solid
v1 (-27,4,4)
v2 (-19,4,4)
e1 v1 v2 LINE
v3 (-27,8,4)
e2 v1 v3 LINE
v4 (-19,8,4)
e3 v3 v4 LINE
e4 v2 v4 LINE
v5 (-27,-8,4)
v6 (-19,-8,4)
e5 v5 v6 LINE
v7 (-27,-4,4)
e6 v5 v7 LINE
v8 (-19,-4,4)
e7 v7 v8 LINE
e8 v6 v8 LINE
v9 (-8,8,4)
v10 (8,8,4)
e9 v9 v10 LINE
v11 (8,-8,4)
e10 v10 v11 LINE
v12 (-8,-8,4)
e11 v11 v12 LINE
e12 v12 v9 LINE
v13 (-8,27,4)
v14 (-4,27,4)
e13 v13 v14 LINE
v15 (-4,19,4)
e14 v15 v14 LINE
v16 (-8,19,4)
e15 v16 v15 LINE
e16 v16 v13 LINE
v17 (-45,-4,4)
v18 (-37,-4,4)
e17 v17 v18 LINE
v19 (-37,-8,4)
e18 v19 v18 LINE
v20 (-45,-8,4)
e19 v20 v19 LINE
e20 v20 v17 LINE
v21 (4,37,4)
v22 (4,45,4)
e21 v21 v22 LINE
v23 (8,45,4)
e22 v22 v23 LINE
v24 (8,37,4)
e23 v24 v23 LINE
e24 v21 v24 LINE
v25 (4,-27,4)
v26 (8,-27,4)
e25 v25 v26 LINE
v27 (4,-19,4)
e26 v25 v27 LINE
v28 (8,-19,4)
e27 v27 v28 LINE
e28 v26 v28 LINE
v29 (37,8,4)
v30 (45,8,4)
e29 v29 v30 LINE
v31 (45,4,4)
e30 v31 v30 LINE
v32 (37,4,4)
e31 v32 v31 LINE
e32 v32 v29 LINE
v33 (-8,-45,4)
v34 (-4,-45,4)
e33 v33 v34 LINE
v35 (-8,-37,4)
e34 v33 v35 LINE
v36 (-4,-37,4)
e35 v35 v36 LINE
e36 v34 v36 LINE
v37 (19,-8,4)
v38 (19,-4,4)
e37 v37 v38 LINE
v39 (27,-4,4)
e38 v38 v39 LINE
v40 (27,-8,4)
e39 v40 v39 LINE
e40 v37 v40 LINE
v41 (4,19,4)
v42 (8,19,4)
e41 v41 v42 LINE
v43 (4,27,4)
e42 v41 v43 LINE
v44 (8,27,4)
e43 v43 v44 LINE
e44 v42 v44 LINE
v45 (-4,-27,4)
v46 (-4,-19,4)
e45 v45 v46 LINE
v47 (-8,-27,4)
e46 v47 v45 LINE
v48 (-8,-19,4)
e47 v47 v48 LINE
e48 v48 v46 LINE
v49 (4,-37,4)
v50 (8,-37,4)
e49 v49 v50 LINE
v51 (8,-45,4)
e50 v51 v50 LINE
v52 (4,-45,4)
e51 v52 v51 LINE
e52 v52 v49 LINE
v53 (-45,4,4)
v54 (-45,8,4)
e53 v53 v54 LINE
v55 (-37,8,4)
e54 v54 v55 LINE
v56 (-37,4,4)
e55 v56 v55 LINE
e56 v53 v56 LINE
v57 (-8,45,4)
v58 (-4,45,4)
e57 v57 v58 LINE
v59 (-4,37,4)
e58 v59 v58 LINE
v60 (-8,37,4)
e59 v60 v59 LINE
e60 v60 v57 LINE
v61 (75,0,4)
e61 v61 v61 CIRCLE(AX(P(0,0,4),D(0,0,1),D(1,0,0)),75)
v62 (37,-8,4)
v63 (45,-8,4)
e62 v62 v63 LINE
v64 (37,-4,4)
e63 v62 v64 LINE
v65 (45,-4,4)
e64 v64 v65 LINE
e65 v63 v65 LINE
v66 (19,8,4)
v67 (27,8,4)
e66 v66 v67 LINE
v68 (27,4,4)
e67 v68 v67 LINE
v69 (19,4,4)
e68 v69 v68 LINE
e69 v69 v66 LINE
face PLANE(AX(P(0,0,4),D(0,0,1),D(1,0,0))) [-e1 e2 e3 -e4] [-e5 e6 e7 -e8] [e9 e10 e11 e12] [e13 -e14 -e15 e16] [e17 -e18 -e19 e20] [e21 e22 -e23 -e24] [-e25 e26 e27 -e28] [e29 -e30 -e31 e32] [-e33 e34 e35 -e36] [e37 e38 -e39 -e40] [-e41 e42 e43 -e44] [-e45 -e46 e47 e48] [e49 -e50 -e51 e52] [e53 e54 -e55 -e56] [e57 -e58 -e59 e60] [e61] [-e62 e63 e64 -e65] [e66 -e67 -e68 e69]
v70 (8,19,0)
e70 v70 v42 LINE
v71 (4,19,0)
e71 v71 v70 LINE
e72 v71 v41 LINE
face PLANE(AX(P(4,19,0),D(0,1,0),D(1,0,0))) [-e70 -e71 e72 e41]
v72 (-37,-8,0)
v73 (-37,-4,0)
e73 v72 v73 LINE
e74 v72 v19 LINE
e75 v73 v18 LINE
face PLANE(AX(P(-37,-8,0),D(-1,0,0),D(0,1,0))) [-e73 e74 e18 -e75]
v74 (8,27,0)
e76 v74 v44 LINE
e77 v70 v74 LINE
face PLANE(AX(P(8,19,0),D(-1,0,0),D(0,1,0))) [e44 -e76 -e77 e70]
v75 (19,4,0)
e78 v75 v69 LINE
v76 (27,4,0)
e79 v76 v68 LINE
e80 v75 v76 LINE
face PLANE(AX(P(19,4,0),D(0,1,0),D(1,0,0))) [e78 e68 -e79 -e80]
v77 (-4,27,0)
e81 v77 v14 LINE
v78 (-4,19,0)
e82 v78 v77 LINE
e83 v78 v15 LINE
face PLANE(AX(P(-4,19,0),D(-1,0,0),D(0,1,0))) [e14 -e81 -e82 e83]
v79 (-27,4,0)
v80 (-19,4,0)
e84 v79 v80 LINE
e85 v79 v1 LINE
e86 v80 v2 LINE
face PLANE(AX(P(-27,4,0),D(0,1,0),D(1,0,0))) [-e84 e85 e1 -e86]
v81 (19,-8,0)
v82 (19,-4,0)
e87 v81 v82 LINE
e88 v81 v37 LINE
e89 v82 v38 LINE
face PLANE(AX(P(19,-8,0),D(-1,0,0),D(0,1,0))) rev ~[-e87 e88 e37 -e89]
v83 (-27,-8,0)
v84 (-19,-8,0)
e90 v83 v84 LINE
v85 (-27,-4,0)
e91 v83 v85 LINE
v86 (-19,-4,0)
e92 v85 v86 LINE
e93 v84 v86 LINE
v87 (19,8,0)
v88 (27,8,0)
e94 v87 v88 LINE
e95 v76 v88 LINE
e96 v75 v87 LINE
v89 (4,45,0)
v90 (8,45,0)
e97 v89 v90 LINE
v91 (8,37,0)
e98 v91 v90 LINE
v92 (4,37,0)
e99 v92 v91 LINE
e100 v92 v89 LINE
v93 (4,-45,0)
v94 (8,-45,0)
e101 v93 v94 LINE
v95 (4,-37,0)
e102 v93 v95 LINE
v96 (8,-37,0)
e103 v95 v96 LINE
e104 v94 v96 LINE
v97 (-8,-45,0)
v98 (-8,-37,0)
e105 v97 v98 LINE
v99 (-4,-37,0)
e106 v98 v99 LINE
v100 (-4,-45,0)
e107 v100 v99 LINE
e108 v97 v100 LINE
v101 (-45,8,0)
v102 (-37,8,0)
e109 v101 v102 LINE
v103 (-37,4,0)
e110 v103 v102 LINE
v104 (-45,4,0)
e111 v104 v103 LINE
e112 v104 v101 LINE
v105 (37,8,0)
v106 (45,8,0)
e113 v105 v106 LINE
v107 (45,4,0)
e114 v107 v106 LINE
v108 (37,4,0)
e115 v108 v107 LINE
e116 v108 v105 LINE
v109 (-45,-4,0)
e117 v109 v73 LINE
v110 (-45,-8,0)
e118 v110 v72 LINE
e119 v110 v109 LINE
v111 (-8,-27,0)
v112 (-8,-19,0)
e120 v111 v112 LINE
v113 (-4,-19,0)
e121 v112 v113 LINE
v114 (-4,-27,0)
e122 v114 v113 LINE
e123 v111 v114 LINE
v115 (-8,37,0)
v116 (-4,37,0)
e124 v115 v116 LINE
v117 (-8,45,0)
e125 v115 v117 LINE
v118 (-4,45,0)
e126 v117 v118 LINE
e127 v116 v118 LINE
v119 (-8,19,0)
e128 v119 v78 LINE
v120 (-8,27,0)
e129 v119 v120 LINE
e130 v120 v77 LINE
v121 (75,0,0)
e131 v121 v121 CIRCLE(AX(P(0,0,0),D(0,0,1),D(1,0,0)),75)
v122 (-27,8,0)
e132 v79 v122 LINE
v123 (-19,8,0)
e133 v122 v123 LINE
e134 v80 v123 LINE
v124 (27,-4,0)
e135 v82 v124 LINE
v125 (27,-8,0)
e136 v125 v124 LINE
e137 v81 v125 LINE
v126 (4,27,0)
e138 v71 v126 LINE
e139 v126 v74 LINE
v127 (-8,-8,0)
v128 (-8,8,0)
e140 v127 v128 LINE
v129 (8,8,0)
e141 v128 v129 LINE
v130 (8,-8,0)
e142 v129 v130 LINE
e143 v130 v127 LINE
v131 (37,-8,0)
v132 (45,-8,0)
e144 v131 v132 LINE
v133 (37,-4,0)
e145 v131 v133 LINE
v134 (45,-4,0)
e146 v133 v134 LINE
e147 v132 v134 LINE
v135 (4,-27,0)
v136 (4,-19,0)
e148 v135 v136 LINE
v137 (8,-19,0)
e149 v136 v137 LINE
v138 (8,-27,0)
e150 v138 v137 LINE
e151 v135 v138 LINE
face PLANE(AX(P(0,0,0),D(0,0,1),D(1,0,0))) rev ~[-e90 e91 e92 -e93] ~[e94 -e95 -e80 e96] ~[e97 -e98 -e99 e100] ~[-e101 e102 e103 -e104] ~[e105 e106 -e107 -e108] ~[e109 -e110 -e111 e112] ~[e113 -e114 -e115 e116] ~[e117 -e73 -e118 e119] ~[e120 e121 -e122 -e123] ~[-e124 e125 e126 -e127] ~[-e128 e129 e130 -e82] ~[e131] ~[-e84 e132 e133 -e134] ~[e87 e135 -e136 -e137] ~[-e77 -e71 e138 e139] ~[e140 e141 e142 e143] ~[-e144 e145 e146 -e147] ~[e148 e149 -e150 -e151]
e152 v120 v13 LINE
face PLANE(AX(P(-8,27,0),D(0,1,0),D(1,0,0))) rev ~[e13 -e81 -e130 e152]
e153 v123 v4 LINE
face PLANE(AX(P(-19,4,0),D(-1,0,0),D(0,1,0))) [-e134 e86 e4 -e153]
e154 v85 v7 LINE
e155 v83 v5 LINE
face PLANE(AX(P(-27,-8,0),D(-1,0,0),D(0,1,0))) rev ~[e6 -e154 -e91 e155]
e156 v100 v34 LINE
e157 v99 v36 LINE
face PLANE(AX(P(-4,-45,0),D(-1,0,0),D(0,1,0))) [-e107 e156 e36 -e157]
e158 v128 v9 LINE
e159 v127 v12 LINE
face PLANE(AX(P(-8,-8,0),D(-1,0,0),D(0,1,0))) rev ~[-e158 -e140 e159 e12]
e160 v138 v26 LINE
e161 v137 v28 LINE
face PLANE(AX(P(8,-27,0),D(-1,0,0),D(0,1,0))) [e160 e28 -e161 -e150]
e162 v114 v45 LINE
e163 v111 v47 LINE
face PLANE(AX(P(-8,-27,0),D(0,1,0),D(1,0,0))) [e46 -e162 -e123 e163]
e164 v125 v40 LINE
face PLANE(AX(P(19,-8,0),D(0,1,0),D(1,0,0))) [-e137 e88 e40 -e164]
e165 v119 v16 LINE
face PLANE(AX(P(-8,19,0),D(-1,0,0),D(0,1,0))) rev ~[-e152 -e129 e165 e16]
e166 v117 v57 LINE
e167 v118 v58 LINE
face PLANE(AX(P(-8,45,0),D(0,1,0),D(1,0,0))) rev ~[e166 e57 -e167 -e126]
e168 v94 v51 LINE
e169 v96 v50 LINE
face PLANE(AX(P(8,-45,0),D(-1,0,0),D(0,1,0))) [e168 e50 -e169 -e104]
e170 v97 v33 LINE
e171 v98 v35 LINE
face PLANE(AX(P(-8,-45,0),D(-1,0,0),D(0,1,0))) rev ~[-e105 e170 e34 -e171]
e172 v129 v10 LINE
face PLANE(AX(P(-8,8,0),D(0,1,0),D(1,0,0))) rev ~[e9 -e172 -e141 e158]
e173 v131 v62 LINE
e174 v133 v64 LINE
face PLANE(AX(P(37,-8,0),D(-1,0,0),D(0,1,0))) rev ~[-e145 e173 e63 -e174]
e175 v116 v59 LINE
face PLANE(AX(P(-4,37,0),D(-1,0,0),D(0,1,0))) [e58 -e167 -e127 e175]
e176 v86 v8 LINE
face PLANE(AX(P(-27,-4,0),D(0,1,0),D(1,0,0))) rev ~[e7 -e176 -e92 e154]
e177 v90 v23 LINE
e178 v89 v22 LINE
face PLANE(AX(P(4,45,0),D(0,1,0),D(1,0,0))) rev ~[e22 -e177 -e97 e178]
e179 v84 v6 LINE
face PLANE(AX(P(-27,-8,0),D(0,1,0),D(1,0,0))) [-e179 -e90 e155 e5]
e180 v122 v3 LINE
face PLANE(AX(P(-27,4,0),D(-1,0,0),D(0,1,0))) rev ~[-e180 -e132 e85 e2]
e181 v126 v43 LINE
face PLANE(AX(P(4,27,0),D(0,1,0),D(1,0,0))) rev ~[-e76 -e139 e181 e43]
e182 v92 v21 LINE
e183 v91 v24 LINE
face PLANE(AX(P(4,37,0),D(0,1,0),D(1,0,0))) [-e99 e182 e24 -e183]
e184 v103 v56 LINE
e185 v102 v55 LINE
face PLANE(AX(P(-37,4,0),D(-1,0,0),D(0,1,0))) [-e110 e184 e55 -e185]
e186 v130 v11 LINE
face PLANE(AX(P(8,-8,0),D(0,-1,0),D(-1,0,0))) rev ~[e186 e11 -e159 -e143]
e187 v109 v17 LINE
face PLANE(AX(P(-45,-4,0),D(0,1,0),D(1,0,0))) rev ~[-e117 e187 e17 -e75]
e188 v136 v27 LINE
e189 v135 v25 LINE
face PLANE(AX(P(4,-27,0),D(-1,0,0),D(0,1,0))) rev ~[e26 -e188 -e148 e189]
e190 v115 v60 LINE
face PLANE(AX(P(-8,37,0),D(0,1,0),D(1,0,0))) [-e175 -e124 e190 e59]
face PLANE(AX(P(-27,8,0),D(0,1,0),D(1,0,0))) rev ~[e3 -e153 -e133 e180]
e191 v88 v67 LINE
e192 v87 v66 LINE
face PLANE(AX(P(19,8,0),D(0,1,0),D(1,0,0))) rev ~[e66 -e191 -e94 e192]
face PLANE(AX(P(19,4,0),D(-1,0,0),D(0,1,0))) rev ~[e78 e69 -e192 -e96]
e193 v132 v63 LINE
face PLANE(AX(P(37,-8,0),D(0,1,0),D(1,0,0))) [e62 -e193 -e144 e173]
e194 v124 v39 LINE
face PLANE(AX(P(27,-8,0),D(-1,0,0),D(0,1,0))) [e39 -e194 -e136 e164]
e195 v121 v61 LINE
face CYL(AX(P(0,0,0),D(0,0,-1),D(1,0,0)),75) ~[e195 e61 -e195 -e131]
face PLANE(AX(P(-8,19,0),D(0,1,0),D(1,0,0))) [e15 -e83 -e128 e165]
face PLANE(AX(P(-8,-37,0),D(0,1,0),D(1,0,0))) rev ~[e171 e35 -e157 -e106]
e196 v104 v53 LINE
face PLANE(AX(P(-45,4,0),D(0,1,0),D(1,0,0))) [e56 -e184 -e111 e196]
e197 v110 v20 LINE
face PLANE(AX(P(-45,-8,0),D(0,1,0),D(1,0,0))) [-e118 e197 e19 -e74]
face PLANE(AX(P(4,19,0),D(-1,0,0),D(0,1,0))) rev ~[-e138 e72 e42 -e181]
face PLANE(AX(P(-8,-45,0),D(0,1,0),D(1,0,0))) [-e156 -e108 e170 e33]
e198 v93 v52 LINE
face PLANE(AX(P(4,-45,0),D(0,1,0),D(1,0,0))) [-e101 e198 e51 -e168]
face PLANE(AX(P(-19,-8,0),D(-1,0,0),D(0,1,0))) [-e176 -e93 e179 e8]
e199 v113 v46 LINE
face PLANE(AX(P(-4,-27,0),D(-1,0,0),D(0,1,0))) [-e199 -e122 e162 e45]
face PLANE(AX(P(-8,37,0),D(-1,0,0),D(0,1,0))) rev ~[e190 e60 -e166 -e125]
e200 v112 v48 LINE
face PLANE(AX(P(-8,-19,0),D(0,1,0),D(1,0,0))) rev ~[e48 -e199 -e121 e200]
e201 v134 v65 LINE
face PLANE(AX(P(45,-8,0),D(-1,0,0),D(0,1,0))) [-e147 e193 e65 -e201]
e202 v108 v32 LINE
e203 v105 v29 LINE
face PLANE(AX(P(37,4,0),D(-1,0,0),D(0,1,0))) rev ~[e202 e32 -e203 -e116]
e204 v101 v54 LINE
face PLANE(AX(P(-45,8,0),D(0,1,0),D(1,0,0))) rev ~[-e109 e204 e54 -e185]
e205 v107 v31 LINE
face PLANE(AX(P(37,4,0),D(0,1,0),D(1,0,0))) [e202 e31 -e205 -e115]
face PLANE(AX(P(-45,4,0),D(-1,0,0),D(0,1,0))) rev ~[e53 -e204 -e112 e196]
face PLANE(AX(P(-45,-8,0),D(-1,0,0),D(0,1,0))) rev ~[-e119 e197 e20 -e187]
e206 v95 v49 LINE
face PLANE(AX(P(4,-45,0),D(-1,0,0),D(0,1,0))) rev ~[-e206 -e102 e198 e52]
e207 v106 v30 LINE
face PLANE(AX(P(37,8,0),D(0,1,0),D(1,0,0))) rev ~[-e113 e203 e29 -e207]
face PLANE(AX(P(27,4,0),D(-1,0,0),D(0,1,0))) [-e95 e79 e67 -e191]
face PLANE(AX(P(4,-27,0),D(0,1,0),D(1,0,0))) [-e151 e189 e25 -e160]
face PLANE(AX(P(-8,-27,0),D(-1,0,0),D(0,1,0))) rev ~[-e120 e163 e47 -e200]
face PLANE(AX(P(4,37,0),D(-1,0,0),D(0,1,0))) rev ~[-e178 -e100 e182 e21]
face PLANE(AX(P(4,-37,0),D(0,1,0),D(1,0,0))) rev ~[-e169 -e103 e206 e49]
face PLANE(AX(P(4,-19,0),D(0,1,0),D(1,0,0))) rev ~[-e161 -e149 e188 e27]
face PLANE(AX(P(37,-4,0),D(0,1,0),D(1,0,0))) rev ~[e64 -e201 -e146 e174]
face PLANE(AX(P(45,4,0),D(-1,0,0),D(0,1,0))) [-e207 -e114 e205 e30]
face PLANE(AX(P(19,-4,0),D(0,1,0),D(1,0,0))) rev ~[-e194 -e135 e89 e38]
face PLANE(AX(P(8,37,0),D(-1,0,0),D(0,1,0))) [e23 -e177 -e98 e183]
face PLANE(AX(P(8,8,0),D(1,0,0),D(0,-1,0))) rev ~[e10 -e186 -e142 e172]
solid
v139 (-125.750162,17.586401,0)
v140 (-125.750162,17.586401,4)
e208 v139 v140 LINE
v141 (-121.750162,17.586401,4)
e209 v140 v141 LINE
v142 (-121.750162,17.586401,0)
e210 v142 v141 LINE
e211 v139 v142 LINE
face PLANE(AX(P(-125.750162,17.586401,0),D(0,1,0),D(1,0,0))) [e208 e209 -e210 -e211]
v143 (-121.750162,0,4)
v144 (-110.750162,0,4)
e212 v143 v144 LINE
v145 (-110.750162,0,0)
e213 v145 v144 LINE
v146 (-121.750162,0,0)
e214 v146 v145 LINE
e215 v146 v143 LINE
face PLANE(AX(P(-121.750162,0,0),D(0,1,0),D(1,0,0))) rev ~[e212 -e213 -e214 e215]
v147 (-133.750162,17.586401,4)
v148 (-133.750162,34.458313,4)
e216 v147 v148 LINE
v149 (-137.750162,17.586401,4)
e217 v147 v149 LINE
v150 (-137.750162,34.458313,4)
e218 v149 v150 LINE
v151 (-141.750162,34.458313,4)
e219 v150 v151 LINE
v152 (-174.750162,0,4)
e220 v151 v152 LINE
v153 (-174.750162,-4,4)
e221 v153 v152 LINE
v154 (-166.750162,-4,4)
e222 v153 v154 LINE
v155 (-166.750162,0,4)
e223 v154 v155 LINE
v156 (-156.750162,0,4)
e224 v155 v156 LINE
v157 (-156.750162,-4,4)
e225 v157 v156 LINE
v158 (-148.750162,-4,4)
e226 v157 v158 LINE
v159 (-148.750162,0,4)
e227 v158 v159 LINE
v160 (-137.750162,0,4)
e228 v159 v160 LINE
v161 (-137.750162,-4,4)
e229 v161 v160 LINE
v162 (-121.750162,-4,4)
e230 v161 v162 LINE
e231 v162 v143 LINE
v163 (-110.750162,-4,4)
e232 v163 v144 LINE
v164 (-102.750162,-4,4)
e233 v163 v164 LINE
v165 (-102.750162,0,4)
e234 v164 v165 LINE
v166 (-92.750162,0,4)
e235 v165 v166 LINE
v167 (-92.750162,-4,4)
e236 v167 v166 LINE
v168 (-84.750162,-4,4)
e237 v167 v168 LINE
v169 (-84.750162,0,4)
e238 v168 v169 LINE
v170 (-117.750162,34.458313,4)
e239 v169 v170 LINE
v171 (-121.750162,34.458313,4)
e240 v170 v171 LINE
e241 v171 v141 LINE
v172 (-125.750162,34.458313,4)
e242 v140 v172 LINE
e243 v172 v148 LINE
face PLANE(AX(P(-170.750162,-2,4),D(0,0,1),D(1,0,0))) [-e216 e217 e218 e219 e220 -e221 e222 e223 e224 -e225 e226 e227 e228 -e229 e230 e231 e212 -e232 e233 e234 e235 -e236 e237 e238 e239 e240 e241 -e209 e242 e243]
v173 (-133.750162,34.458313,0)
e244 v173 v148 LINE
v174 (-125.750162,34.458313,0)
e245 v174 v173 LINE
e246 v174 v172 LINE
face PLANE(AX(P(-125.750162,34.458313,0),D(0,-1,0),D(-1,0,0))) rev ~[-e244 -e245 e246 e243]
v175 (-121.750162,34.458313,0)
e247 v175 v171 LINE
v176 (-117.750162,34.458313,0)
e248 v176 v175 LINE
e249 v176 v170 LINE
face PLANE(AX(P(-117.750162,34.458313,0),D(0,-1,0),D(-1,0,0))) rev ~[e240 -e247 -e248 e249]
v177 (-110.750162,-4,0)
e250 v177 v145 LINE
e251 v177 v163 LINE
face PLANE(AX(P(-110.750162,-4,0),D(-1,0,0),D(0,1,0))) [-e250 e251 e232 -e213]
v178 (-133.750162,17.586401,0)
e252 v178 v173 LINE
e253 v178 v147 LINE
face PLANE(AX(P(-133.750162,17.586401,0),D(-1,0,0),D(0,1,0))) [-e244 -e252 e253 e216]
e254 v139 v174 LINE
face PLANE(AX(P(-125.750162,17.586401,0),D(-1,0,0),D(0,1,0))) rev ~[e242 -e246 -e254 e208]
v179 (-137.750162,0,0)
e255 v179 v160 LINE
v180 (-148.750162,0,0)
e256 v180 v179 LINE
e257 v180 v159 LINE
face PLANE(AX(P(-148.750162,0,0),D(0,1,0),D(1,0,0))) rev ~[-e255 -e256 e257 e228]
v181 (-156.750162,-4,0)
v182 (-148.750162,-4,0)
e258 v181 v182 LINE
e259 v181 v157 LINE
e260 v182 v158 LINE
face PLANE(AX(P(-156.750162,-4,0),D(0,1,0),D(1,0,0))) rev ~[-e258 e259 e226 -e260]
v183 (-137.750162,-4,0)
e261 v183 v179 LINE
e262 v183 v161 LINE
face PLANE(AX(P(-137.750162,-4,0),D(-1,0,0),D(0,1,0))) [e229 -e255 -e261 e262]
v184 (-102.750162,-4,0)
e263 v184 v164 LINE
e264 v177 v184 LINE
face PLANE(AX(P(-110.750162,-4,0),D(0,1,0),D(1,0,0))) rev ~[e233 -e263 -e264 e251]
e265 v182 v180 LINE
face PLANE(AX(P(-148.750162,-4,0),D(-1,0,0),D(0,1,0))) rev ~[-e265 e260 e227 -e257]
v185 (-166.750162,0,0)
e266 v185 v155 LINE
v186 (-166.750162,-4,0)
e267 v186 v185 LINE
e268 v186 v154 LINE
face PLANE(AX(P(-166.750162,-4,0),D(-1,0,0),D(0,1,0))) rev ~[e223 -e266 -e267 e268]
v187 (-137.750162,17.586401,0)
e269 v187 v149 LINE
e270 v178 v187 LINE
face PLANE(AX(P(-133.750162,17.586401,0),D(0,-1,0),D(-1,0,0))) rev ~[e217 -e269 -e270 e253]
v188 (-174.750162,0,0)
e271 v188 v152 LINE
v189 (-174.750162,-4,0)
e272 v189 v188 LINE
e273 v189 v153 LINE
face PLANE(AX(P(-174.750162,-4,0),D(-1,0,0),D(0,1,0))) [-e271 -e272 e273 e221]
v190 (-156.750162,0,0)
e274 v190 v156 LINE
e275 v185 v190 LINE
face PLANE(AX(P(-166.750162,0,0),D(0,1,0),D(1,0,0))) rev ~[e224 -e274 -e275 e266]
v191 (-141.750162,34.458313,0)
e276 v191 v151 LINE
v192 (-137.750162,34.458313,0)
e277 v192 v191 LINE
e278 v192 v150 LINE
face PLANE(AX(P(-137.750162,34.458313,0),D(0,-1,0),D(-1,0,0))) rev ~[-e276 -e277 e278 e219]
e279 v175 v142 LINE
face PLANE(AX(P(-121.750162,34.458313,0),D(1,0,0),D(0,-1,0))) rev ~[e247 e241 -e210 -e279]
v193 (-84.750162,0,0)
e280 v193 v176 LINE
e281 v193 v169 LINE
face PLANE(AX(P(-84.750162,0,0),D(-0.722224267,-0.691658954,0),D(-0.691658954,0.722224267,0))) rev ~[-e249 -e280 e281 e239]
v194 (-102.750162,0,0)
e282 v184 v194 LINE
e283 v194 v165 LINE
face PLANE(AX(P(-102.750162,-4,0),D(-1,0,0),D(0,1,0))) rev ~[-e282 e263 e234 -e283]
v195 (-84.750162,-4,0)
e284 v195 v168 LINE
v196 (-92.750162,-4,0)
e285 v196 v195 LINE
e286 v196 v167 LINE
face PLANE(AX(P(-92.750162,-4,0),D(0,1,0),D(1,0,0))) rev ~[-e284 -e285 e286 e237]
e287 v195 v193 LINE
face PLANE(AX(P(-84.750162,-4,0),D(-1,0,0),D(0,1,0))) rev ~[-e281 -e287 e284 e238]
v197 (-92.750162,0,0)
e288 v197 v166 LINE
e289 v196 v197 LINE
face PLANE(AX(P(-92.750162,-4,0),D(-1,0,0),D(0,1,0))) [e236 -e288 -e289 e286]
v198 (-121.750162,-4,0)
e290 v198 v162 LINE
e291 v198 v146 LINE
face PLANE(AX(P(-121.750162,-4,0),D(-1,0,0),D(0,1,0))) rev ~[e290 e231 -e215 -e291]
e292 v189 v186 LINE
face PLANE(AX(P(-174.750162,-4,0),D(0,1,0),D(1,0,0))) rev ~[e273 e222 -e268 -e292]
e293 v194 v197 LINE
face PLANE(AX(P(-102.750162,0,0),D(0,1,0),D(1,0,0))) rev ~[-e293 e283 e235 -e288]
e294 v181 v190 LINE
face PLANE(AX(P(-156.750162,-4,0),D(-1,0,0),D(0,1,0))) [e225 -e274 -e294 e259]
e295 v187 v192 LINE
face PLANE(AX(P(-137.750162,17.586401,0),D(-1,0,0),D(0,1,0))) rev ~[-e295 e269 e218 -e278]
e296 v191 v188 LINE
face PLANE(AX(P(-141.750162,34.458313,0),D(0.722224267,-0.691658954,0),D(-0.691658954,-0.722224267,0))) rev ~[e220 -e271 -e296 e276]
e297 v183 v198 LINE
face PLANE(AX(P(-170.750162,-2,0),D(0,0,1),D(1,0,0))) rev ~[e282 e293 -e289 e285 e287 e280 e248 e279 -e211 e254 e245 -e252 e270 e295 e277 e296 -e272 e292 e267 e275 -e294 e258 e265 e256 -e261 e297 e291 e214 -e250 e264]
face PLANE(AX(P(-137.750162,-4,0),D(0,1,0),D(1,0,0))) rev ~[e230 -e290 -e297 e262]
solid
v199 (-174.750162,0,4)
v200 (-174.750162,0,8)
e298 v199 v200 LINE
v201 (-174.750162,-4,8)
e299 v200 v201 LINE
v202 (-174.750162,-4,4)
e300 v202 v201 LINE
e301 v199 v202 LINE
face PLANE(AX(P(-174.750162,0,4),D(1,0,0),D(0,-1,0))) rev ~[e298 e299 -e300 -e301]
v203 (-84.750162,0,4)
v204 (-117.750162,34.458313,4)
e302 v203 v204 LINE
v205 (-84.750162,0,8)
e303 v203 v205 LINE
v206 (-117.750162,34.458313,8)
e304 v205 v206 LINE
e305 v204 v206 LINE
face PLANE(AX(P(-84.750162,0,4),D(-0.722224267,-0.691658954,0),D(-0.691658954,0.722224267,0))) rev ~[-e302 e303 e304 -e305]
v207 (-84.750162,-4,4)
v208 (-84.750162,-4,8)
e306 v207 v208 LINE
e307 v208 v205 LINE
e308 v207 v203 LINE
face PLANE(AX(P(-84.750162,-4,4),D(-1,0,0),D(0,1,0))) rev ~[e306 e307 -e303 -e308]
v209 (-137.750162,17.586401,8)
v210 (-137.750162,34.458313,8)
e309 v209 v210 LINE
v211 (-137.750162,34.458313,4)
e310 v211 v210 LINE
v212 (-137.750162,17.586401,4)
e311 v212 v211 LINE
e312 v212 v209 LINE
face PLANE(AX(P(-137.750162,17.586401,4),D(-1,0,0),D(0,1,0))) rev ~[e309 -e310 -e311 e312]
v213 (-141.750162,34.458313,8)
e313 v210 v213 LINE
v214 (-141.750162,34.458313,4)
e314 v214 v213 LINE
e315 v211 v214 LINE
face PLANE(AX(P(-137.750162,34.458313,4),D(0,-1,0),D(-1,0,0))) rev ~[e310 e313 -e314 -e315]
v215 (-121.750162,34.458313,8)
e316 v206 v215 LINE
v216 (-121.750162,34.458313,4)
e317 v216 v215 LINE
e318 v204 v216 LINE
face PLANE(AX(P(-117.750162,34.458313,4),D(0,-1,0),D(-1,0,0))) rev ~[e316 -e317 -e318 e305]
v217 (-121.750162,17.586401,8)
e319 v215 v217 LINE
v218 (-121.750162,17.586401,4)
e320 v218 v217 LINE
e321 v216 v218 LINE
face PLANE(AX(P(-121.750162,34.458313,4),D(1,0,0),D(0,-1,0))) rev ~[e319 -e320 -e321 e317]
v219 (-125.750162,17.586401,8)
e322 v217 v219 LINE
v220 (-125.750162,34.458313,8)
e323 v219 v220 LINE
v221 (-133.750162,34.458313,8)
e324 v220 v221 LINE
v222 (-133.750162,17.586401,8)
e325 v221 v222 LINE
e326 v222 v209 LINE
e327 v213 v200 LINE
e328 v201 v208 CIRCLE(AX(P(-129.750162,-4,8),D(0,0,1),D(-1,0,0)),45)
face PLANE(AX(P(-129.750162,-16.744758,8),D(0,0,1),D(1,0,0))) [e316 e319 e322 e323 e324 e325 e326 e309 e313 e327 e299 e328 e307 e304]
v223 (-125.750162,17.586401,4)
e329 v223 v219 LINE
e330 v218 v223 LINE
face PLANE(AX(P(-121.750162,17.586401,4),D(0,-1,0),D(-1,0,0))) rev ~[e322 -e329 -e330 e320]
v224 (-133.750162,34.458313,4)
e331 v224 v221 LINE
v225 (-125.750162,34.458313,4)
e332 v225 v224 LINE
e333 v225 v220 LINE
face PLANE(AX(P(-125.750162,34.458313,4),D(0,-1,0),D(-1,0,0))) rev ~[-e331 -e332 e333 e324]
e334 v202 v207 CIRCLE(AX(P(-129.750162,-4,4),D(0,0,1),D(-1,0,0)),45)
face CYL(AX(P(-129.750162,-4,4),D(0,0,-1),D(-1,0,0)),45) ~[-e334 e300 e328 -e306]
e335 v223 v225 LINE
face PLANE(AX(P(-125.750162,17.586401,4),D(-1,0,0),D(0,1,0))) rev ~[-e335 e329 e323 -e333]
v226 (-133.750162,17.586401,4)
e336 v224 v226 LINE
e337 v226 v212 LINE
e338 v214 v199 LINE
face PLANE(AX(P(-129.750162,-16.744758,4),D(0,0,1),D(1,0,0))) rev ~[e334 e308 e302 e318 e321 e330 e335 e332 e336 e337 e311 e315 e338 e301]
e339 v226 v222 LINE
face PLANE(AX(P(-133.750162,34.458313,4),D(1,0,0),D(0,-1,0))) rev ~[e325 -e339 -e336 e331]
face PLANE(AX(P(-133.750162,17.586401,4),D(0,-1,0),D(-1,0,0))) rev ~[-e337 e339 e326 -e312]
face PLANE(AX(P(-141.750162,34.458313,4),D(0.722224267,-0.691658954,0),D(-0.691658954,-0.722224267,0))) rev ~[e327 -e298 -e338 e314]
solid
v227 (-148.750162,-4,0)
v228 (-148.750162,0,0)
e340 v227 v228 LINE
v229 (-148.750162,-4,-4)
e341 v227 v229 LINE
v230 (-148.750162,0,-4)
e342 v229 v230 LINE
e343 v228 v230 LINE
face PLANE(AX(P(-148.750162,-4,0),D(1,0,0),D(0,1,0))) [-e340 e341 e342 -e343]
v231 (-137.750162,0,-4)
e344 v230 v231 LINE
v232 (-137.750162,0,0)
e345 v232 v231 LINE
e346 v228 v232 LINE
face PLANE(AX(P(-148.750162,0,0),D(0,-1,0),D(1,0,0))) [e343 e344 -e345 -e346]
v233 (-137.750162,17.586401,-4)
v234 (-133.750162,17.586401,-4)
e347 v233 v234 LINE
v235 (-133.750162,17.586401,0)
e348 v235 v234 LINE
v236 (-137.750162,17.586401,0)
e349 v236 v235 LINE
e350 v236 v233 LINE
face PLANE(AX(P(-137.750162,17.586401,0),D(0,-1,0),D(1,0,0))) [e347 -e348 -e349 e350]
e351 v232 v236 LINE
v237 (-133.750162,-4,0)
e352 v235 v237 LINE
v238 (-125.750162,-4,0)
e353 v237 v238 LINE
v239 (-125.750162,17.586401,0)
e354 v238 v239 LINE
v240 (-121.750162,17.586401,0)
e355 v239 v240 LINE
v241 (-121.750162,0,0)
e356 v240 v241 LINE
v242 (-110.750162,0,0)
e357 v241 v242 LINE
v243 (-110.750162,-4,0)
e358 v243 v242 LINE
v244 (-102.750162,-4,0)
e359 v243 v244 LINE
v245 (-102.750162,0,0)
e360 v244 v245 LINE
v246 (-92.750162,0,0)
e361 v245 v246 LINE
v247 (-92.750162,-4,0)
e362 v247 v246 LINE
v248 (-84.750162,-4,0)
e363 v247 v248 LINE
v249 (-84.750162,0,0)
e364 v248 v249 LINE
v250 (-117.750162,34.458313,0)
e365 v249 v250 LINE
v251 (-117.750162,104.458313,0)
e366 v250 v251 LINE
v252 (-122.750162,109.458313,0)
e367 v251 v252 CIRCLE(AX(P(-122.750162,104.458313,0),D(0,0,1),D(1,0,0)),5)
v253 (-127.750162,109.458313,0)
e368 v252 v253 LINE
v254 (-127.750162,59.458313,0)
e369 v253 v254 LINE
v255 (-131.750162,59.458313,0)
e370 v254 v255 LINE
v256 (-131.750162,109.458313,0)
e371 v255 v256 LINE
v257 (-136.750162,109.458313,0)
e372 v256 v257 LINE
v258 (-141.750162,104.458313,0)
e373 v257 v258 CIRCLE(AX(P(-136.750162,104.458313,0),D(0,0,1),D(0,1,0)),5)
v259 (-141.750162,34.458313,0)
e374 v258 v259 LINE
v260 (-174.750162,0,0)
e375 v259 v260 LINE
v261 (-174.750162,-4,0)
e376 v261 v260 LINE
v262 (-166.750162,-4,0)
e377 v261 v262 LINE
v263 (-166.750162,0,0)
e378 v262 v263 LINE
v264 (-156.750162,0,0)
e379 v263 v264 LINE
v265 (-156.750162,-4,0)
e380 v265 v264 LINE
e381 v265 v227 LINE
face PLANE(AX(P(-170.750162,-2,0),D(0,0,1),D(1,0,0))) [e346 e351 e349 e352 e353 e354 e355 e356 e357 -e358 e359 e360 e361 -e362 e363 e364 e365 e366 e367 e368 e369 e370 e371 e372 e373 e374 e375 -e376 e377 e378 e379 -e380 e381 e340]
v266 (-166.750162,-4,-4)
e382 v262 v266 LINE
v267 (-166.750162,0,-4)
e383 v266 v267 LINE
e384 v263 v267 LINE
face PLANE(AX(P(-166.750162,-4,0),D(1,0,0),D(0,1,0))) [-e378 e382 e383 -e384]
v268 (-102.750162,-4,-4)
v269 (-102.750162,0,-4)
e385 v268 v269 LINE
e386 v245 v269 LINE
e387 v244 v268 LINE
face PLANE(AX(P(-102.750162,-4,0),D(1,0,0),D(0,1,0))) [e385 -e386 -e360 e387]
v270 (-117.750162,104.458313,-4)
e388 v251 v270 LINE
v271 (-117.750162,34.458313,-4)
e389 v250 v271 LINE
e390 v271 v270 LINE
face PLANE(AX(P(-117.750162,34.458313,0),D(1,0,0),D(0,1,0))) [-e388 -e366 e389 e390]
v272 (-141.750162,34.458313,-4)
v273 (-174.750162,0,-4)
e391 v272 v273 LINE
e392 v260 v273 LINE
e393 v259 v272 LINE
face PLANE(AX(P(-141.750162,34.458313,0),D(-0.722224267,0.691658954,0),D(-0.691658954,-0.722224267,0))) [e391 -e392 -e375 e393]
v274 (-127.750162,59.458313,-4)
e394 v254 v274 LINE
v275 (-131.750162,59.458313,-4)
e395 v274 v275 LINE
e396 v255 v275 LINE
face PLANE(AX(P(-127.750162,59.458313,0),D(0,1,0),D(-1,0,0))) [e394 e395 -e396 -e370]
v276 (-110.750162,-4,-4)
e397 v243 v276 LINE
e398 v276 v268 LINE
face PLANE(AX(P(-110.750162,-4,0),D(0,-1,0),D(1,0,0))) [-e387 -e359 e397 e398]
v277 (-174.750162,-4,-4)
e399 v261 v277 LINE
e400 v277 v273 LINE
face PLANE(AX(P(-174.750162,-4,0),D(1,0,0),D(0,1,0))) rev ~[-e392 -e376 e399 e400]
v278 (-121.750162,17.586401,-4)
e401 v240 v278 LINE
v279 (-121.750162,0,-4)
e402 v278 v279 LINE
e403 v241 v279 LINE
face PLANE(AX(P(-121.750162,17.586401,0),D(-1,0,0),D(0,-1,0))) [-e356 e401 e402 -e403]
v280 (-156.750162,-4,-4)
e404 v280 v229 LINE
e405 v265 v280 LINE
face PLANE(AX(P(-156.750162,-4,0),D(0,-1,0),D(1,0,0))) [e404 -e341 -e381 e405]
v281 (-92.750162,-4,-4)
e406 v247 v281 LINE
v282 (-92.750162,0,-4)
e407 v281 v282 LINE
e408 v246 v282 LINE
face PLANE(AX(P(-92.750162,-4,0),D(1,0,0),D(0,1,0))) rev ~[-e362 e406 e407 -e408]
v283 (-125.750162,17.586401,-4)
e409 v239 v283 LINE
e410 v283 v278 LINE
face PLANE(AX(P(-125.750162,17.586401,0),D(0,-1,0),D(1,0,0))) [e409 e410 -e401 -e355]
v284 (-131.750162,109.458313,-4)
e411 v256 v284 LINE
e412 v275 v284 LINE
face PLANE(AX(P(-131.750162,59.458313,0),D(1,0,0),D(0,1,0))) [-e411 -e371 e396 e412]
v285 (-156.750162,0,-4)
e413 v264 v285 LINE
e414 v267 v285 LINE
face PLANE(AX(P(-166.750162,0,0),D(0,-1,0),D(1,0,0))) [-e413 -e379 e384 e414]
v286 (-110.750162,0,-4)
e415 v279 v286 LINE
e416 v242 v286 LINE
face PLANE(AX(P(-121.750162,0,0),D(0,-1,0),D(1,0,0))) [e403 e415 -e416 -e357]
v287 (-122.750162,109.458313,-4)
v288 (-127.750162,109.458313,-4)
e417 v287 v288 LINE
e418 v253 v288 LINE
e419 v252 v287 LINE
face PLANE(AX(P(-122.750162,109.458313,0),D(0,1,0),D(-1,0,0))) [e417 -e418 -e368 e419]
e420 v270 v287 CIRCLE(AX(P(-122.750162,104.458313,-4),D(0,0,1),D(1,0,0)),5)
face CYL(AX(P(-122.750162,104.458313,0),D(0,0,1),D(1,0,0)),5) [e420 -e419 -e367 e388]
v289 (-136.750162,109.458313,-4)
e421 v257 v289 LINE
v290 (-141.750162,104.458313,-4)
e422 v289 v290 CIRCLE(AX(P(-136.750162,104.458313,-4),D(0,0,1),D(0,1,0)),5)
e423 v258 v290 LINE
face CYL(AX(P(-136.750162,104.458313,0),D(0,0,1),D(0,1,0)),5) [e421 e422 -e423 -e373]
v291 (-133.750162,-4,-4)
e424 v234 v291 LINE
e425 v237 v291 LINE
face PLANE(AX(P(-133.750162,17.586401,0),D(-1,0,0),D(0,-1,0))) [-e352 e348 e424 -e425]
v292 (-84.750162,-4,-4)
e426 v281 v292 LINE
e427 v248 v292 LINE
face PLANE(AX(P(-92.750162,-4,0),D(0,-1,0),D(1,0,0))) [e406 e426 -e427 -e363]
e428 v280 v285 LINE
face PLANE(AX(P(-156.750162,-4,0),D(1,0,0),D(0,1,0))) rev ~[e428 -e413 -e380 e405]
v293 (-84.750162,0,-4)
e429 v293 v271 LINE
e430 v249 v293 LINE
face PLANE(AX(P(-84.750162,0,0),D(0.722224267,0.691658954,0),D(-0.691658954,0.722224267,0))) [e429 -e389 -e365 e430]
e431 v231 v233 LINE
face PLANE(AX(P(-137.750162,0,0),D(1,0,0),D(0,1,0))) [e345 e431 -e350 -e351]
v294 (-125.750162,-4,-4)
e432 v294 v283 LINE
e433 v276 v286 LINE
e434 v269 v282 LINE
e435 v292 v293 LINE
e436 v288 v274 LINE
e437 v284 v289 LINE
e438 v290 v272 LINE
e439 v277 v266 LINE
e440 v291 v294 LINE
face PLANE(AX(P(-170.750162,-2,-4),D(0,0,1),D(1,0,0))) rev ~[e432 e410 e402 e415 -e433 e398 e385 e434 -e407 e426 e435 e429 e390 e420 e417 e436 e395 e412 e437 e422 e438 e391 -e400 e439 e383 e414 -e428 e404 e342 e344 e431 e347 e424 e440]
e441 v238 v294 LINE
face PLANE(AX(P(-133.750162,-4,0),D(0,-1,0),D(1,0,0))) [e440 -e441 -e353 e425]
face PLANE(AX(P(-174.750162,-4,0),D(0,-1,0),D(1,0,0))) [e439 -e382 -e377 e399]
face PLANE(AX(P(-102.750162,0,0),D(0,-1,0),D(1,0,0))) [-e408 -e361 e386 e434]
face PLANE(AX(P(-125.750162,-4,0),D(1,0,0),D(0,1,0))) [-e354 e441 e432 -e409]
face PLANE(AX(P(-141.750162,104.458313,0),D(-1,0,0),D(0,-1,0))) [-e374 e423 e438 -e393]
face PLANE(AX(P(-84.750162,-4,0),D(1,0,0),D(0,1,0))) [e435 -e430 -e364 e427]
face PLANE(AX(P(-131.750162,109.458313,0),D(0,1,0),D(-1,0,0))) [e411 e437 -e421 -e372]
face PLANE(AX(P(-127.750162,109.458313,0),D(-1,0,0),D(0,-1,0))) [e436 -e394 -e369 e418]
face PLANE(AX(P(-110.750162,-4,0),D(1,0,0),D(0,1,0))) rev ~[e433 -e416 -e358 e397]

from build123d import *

# Parameters (mm, degrees)
F0_W     = 8
F0_H     = 4
F0_W_2   = 4
F0_H_2   = 17.5864007324
F0_H_3   = 16.8719124049
F1_DEPTH = 4
F0_R     = 75
F0_H_4   = 8
F2_DEPTH = 4
F4_DEPTH = 4


with BuildPart() as f1:
    # F0 (on Top) → F1 (new body)
    with BuildSketch(Plane.XY):
        with Locations((-170.7501623631, -2)):
            Rectangle(F0_W, F0_H)
        Polygon((-137.7501623631, 17.5864007324), (-137.7501623631, 34.4583131373), (-141.7501623631, 34.4583131373), (-174.7501623631, 0), (-166.7501623631, 0), (-156.7501623631, 0), (-148.7501623631, 0), (-137.7501623631, 0), align=None)
        with Locations((-152.7501623631, -2)):
            Rectangle(F0_W, F0_H)
        with Locations((-135.7501623631, 8.7932003662)):
            Rectangle(F0_W_2, F0_H_2)
        with Locations((-131.7501623631, 8.7932003662)):
            Rectangle(F0_W_2, F0_H_2)
        with Locations((-131.7501623631, 26.0223569348)):
            Rectangle(F0_W_2, F0_H_3)
        with Locations((-127.7501623631, 26.0223569348)):
            Rectangle(F0_W_2, F0_H_3)
        with Locations((-127.7501623631, 8.7932003662)):
            Rectangle(F0_W_2, F0_H_2)
        with Locations((-123.7501623631, 8.7932003662)):
            Rectangle(F0_W_2, F0_H_2)
        Polygon((-92.7501623631, 0), (-84.7501623631, 0), (-117.7501623631, 34.4583131373), (-121.7501623631, 34.4583131373), (-121.7501623631, 17.5864007324), (-121.7501623631, 0), (-110.7501623631, 0), (-102.7501623631, 0), align=None)
        with Locations((-106.7501623631, -2)):
            Rectangle(F0_W, F0_H)
        with Locations((-88.7501623631, -2)):
            Rectangle(F0_W, F0_H)
        with Locations((-135.7501623631, -2)):
            Rectangle(F0_W_2, F0_H)
        with Locations((-131.7501623631, -2)):
            Rectangle(F0_W_2, F0_H)
        with Locations((-127.7501623631, -2)):
            Rectangle(F0_W_2, F0_H)
        with Locations((-123.7501623631, -2)):
            Rectangle(F0_W_2, F0_H)
    extrude(amount=F1_DEPTH)


with BuildPart() as f1b:
    # F0 (on Top) → F1, piece 2 (new body)
    with BuildSketch(Plane.XY):
        Circle(F0_R)
        with Locations((-6, -41)):
            Rectangle(F0_W_2, F0_H_4, mode=Mode.SUBTRACT)
        with Locations((6, -41)):
            Rectangle(F0_W_2, F0_H_4, mode=Mode.SUBTRACT)
        with Locations((-41, -6)):
            Rectangle(F0_W, F0_H, mode=Mode.SUBTRACT)
        with Locations((-23, -6)):
            Rectangle(F0_W, F0_H, mode=Mode.SUBTRACT)
        with Locations((-6, -23)):
            Rectangle(F0_W_2, F0_H_4, mode=Mode.SUBTRACT)
        with Locations((6, -23)):
            Rectangle(F0_W_2, F0_H_4, mode=Mode.SUBTRACT)
        with Locations((-41, 6)):
            Rectangle(F0_W, F0_H, mode=Mode.SUBTRACT)
        with Locations((-23, 6)):
            Rectangle(F0_W, F0_H, mode=Mode.SUBTRACT)
        Polygon((-8, -4), (-8, 4), (-8, 8), (8, 8), (8, 4), (8, -4), (8, -8), (-8, -8), align=None, mode=Mode.SUBTRACT)
        with Locations((23, -6)):
            Rectangle(F0_W, F0_H, mode=Mode.SUBTRACT)
        with Locations((41, -6)):
            Rectangle(F0_W, F0_H, mode=Mode.SUBTRACT)
        with Locations((23, 6)):
            Rectangle(F0_W, F0_H, mode=Mode.SUBTRACT)
        with Locations((41, 6)):
            Rectangle(F0_W, F0_H, mode=Mode.SUBTRACT)
        with Locations((-6, 23)):
            Rectangle(F0_W_2, F0_H_4, mode=Mode.SUBTRACT)
        with Locations((6, 23)):
            Rectangle(F0_W_2, F0_H_4, mode=Mode.SUBTRACT)
        with Locations((-6, 41)):
            Rectangle(F0_W_2, F0_H_4, mode=Mode.SUBTRACT)
        with Locations((6, 41)):
            Rectangle(F0_W_2, F0_H_4, mode=Mode.SUBTRACT)
    extrude(amount=F1_DEPTH)


with BuildPart() as f2:
    # F0 (on Top) → F2 (new body)
    with BuildSketch(Plane.XY):
        with Locations((-170.7501623631, -2)):
            Rectangle(F0_W, F0_H)
        Polygon((-137.7501623631, 17.5864007324), (-137.7501623631, 34.4583131373), (-141.7501623631, 34.4583131373), (-174.7501623631, 0), (-166.7501623631, 0), (-156.7501623631, 0), (-148.7501623631, 0), (-137.7501623631, 0), align=None)
        with Locations((-152.7501623631, -2)):
            Rectangle(F0_W, F0_H)
        with Locations((-131.7501623631, 26.0223569348)):
            Rectangle(F0_W_2, F0_H_3)
        with Locations((-127.7501623631, 26.0223569348)):
            Rectangle(F0_W_2, F0_H_3)
        with Locations((-127.7501623631, 8.7932003662)):
            Rectangle(F0_W_2, F0_H_2)
        with Locations((-131.7501623631, 8.7932003662)):
            Rectangle(F0_W_2, F0_H_2)
        with Locations((-131.7501623631, -2)):
            Rectangle(F0_W_2, F0_H)
        with Locations((-127.7501623631, -2)):
            Rectangle(F0_W_2, F0_H)
        with Locations((-135.7501623631, 26.0223569348)):
            Rectangle(F0_W_2, F0_H_3)
        with Locations((-123.7501623631, 26.0223569348)):
            Rectangle(F0_W_2, F0_H_3)
        Polygon((-92.7501623631, 0), (-84.7501623631, 0), (-117.7501623631, 34.4583131373), (-121.7501623631, 34.4583131373), (-121.7501623631, 17.5864007324), (-121.7501623631, 0), (-110.7501623631, 0), (-102.7501623631, 0), align=None)
        with Locations((-106.7501623631, -2)):
            Rectangle(F0_W, F0_H)
        with Locations((-88.7501623631, -2)):
            Rectangle(F0_W, F0_H)
        with BuildLine():
            Line((-121.7501623631, 34.4583131373), (-117.7501623631, 34.4583131373))
            Line((-117.7501623631, 34.4583131373), (-117.7501623631, 104.4583131373))
            ThreePointArc((-117.7501623631, 104.4583131373), (-119.2146284571, 107.9938470432), (-122.7501623631, 109.4583131373))
            Line((-122.7501623631, 109.4583131373), (-127.7501623631, 109.4583131373))
            Line((-127.7501623631, 109.4583131373), (-127.7501623631, 59.4583131373))
            Line((-127.7501623631, 59.4583131373), (-129.7501623631, 59.4583131373))
            Line((-129.7501623631, 59.4583131373), (-131.7501623631, 59.4583131373))
            Line((-131.7501623631, 59.4583131373), (-131.7501623631, 109.4583131373))
            Line((-131.7501623631, 109.4583131373), (-136.7501623631, 109.4583131373))
            ThreePointArc((-136.7501623631, 109.4583131373), (-140.285696269, 107.9938470432), (-141.7501623631, 104.4583131373))
            Line((-141.7501623631, 104.4583131373), (-141.7501623631, 34.4583131373))
            Line((-141.7501623631, 34.4583131373), (-137.7501623631, 34.4583131373))
            Line((-137.7501623631, 34.4583131373), (-133.7501623631, 34.4583131373))
            Line((-133.7501623631, 34.4583131373), (-129.7501623631, 34.4583131373))
            Line((-129.7501623631, 34.4583131373), (-125.7501623631, 34.4583131373))
            Line((-125.7501623631, 34.4583131373), (-121.7501623631, 34.4583131373))
        make_face()
    extrude(amount=-F2_DEPTH)


with BuildPart() as f4:
    # F3 (on face) → F4 (new body)
    with BuildSketch(Plane.XY.offset(4)):
        with BuildLine():
            Line((-166.7501623631, -4), (-174.7501623631, -4))
            ThreePointArc((-174.7501623631, -4), (-129.7501623631, -49), (-84.7501623631, -4))
            Line((-84.7501623631, -4), (-92.7501623631, -4))
            Line((-92.7501623631, -4), (-92.7501623631, 0))
            Line((-92.7501623631, 0), (-102.7501623631, 0))
            Line((-102.7501623631, 0), (-102.7501623631, -4))
            Line((-102.7501623631, -4), (-110.7501623631, -4))
            Line((-110.7501623631, -4), (-110.7501623631, 0))
            Line((-110.7501623631, 0), (-121.7501623631, 0))
            Line((-121.7501623631, 0), (-121.7501623631, -4))
            Line((-121.7501623631, -4), (-137.7501623631, -4))
            Line((-137.7501623631, -4), (-137.7501623631, 0))
            Line((-137.7501623631, 0), (-148.7501623631, 0))
            Line((-148.7501623631, 0), (-148.7501623631, -4))
            Line((-148.7501623631, -4), (-156.7501623631, -4))
            Line((-156.7501623631, -4), (-156.7501623631, 0))
            Line((-156.7501623631, 0), (-166.7501623631, 0))
            Line((-166.7501623631, 0), (-166.7501623631, -4))
        make_face()
        Polygon((-174.7501623631, 0), (-174.7501623631, -4), (-166.7501623631, -4), (-166.7501623631, 0), (-156.7501623631, 0), (-156.7501623631, -4), (-148.7501623631, -4), (-148.7501623631, 0), (-137.7501623631, 0), (-137.7501623631, -4), (-121.7501623631, -4), (-121.7501623631, 0), (-110.7501623631, 0), (-110.7501623631, -4), (-102.7501623631, -4), (-102.7501623631, 0), (-92.7501623631, 0), (-92.7501623631, -4), (-84.7501623631, -4), (-84.7501623631, 0), (-117.7501623631, 34.4583131373), (-121.7501623631, 34.4583131373), (-121.7501623631, 17.5864007324), (-125.7501623631, 17.5864007324), (-125.7501623631, 34.4583131373), (-133.7501623631, 34.4583131373), (-133.7501623631, 17.5864007324), (-137.7501623631, 17.5864007324), (-137.7501623631, 34.4583131373), (-141.7501623631, 34.4583131373), align=None)
    extrude(amount=F4_DEPTH)


solid = Compound([f1.part, f1b.part, f2.part, f4.part])
